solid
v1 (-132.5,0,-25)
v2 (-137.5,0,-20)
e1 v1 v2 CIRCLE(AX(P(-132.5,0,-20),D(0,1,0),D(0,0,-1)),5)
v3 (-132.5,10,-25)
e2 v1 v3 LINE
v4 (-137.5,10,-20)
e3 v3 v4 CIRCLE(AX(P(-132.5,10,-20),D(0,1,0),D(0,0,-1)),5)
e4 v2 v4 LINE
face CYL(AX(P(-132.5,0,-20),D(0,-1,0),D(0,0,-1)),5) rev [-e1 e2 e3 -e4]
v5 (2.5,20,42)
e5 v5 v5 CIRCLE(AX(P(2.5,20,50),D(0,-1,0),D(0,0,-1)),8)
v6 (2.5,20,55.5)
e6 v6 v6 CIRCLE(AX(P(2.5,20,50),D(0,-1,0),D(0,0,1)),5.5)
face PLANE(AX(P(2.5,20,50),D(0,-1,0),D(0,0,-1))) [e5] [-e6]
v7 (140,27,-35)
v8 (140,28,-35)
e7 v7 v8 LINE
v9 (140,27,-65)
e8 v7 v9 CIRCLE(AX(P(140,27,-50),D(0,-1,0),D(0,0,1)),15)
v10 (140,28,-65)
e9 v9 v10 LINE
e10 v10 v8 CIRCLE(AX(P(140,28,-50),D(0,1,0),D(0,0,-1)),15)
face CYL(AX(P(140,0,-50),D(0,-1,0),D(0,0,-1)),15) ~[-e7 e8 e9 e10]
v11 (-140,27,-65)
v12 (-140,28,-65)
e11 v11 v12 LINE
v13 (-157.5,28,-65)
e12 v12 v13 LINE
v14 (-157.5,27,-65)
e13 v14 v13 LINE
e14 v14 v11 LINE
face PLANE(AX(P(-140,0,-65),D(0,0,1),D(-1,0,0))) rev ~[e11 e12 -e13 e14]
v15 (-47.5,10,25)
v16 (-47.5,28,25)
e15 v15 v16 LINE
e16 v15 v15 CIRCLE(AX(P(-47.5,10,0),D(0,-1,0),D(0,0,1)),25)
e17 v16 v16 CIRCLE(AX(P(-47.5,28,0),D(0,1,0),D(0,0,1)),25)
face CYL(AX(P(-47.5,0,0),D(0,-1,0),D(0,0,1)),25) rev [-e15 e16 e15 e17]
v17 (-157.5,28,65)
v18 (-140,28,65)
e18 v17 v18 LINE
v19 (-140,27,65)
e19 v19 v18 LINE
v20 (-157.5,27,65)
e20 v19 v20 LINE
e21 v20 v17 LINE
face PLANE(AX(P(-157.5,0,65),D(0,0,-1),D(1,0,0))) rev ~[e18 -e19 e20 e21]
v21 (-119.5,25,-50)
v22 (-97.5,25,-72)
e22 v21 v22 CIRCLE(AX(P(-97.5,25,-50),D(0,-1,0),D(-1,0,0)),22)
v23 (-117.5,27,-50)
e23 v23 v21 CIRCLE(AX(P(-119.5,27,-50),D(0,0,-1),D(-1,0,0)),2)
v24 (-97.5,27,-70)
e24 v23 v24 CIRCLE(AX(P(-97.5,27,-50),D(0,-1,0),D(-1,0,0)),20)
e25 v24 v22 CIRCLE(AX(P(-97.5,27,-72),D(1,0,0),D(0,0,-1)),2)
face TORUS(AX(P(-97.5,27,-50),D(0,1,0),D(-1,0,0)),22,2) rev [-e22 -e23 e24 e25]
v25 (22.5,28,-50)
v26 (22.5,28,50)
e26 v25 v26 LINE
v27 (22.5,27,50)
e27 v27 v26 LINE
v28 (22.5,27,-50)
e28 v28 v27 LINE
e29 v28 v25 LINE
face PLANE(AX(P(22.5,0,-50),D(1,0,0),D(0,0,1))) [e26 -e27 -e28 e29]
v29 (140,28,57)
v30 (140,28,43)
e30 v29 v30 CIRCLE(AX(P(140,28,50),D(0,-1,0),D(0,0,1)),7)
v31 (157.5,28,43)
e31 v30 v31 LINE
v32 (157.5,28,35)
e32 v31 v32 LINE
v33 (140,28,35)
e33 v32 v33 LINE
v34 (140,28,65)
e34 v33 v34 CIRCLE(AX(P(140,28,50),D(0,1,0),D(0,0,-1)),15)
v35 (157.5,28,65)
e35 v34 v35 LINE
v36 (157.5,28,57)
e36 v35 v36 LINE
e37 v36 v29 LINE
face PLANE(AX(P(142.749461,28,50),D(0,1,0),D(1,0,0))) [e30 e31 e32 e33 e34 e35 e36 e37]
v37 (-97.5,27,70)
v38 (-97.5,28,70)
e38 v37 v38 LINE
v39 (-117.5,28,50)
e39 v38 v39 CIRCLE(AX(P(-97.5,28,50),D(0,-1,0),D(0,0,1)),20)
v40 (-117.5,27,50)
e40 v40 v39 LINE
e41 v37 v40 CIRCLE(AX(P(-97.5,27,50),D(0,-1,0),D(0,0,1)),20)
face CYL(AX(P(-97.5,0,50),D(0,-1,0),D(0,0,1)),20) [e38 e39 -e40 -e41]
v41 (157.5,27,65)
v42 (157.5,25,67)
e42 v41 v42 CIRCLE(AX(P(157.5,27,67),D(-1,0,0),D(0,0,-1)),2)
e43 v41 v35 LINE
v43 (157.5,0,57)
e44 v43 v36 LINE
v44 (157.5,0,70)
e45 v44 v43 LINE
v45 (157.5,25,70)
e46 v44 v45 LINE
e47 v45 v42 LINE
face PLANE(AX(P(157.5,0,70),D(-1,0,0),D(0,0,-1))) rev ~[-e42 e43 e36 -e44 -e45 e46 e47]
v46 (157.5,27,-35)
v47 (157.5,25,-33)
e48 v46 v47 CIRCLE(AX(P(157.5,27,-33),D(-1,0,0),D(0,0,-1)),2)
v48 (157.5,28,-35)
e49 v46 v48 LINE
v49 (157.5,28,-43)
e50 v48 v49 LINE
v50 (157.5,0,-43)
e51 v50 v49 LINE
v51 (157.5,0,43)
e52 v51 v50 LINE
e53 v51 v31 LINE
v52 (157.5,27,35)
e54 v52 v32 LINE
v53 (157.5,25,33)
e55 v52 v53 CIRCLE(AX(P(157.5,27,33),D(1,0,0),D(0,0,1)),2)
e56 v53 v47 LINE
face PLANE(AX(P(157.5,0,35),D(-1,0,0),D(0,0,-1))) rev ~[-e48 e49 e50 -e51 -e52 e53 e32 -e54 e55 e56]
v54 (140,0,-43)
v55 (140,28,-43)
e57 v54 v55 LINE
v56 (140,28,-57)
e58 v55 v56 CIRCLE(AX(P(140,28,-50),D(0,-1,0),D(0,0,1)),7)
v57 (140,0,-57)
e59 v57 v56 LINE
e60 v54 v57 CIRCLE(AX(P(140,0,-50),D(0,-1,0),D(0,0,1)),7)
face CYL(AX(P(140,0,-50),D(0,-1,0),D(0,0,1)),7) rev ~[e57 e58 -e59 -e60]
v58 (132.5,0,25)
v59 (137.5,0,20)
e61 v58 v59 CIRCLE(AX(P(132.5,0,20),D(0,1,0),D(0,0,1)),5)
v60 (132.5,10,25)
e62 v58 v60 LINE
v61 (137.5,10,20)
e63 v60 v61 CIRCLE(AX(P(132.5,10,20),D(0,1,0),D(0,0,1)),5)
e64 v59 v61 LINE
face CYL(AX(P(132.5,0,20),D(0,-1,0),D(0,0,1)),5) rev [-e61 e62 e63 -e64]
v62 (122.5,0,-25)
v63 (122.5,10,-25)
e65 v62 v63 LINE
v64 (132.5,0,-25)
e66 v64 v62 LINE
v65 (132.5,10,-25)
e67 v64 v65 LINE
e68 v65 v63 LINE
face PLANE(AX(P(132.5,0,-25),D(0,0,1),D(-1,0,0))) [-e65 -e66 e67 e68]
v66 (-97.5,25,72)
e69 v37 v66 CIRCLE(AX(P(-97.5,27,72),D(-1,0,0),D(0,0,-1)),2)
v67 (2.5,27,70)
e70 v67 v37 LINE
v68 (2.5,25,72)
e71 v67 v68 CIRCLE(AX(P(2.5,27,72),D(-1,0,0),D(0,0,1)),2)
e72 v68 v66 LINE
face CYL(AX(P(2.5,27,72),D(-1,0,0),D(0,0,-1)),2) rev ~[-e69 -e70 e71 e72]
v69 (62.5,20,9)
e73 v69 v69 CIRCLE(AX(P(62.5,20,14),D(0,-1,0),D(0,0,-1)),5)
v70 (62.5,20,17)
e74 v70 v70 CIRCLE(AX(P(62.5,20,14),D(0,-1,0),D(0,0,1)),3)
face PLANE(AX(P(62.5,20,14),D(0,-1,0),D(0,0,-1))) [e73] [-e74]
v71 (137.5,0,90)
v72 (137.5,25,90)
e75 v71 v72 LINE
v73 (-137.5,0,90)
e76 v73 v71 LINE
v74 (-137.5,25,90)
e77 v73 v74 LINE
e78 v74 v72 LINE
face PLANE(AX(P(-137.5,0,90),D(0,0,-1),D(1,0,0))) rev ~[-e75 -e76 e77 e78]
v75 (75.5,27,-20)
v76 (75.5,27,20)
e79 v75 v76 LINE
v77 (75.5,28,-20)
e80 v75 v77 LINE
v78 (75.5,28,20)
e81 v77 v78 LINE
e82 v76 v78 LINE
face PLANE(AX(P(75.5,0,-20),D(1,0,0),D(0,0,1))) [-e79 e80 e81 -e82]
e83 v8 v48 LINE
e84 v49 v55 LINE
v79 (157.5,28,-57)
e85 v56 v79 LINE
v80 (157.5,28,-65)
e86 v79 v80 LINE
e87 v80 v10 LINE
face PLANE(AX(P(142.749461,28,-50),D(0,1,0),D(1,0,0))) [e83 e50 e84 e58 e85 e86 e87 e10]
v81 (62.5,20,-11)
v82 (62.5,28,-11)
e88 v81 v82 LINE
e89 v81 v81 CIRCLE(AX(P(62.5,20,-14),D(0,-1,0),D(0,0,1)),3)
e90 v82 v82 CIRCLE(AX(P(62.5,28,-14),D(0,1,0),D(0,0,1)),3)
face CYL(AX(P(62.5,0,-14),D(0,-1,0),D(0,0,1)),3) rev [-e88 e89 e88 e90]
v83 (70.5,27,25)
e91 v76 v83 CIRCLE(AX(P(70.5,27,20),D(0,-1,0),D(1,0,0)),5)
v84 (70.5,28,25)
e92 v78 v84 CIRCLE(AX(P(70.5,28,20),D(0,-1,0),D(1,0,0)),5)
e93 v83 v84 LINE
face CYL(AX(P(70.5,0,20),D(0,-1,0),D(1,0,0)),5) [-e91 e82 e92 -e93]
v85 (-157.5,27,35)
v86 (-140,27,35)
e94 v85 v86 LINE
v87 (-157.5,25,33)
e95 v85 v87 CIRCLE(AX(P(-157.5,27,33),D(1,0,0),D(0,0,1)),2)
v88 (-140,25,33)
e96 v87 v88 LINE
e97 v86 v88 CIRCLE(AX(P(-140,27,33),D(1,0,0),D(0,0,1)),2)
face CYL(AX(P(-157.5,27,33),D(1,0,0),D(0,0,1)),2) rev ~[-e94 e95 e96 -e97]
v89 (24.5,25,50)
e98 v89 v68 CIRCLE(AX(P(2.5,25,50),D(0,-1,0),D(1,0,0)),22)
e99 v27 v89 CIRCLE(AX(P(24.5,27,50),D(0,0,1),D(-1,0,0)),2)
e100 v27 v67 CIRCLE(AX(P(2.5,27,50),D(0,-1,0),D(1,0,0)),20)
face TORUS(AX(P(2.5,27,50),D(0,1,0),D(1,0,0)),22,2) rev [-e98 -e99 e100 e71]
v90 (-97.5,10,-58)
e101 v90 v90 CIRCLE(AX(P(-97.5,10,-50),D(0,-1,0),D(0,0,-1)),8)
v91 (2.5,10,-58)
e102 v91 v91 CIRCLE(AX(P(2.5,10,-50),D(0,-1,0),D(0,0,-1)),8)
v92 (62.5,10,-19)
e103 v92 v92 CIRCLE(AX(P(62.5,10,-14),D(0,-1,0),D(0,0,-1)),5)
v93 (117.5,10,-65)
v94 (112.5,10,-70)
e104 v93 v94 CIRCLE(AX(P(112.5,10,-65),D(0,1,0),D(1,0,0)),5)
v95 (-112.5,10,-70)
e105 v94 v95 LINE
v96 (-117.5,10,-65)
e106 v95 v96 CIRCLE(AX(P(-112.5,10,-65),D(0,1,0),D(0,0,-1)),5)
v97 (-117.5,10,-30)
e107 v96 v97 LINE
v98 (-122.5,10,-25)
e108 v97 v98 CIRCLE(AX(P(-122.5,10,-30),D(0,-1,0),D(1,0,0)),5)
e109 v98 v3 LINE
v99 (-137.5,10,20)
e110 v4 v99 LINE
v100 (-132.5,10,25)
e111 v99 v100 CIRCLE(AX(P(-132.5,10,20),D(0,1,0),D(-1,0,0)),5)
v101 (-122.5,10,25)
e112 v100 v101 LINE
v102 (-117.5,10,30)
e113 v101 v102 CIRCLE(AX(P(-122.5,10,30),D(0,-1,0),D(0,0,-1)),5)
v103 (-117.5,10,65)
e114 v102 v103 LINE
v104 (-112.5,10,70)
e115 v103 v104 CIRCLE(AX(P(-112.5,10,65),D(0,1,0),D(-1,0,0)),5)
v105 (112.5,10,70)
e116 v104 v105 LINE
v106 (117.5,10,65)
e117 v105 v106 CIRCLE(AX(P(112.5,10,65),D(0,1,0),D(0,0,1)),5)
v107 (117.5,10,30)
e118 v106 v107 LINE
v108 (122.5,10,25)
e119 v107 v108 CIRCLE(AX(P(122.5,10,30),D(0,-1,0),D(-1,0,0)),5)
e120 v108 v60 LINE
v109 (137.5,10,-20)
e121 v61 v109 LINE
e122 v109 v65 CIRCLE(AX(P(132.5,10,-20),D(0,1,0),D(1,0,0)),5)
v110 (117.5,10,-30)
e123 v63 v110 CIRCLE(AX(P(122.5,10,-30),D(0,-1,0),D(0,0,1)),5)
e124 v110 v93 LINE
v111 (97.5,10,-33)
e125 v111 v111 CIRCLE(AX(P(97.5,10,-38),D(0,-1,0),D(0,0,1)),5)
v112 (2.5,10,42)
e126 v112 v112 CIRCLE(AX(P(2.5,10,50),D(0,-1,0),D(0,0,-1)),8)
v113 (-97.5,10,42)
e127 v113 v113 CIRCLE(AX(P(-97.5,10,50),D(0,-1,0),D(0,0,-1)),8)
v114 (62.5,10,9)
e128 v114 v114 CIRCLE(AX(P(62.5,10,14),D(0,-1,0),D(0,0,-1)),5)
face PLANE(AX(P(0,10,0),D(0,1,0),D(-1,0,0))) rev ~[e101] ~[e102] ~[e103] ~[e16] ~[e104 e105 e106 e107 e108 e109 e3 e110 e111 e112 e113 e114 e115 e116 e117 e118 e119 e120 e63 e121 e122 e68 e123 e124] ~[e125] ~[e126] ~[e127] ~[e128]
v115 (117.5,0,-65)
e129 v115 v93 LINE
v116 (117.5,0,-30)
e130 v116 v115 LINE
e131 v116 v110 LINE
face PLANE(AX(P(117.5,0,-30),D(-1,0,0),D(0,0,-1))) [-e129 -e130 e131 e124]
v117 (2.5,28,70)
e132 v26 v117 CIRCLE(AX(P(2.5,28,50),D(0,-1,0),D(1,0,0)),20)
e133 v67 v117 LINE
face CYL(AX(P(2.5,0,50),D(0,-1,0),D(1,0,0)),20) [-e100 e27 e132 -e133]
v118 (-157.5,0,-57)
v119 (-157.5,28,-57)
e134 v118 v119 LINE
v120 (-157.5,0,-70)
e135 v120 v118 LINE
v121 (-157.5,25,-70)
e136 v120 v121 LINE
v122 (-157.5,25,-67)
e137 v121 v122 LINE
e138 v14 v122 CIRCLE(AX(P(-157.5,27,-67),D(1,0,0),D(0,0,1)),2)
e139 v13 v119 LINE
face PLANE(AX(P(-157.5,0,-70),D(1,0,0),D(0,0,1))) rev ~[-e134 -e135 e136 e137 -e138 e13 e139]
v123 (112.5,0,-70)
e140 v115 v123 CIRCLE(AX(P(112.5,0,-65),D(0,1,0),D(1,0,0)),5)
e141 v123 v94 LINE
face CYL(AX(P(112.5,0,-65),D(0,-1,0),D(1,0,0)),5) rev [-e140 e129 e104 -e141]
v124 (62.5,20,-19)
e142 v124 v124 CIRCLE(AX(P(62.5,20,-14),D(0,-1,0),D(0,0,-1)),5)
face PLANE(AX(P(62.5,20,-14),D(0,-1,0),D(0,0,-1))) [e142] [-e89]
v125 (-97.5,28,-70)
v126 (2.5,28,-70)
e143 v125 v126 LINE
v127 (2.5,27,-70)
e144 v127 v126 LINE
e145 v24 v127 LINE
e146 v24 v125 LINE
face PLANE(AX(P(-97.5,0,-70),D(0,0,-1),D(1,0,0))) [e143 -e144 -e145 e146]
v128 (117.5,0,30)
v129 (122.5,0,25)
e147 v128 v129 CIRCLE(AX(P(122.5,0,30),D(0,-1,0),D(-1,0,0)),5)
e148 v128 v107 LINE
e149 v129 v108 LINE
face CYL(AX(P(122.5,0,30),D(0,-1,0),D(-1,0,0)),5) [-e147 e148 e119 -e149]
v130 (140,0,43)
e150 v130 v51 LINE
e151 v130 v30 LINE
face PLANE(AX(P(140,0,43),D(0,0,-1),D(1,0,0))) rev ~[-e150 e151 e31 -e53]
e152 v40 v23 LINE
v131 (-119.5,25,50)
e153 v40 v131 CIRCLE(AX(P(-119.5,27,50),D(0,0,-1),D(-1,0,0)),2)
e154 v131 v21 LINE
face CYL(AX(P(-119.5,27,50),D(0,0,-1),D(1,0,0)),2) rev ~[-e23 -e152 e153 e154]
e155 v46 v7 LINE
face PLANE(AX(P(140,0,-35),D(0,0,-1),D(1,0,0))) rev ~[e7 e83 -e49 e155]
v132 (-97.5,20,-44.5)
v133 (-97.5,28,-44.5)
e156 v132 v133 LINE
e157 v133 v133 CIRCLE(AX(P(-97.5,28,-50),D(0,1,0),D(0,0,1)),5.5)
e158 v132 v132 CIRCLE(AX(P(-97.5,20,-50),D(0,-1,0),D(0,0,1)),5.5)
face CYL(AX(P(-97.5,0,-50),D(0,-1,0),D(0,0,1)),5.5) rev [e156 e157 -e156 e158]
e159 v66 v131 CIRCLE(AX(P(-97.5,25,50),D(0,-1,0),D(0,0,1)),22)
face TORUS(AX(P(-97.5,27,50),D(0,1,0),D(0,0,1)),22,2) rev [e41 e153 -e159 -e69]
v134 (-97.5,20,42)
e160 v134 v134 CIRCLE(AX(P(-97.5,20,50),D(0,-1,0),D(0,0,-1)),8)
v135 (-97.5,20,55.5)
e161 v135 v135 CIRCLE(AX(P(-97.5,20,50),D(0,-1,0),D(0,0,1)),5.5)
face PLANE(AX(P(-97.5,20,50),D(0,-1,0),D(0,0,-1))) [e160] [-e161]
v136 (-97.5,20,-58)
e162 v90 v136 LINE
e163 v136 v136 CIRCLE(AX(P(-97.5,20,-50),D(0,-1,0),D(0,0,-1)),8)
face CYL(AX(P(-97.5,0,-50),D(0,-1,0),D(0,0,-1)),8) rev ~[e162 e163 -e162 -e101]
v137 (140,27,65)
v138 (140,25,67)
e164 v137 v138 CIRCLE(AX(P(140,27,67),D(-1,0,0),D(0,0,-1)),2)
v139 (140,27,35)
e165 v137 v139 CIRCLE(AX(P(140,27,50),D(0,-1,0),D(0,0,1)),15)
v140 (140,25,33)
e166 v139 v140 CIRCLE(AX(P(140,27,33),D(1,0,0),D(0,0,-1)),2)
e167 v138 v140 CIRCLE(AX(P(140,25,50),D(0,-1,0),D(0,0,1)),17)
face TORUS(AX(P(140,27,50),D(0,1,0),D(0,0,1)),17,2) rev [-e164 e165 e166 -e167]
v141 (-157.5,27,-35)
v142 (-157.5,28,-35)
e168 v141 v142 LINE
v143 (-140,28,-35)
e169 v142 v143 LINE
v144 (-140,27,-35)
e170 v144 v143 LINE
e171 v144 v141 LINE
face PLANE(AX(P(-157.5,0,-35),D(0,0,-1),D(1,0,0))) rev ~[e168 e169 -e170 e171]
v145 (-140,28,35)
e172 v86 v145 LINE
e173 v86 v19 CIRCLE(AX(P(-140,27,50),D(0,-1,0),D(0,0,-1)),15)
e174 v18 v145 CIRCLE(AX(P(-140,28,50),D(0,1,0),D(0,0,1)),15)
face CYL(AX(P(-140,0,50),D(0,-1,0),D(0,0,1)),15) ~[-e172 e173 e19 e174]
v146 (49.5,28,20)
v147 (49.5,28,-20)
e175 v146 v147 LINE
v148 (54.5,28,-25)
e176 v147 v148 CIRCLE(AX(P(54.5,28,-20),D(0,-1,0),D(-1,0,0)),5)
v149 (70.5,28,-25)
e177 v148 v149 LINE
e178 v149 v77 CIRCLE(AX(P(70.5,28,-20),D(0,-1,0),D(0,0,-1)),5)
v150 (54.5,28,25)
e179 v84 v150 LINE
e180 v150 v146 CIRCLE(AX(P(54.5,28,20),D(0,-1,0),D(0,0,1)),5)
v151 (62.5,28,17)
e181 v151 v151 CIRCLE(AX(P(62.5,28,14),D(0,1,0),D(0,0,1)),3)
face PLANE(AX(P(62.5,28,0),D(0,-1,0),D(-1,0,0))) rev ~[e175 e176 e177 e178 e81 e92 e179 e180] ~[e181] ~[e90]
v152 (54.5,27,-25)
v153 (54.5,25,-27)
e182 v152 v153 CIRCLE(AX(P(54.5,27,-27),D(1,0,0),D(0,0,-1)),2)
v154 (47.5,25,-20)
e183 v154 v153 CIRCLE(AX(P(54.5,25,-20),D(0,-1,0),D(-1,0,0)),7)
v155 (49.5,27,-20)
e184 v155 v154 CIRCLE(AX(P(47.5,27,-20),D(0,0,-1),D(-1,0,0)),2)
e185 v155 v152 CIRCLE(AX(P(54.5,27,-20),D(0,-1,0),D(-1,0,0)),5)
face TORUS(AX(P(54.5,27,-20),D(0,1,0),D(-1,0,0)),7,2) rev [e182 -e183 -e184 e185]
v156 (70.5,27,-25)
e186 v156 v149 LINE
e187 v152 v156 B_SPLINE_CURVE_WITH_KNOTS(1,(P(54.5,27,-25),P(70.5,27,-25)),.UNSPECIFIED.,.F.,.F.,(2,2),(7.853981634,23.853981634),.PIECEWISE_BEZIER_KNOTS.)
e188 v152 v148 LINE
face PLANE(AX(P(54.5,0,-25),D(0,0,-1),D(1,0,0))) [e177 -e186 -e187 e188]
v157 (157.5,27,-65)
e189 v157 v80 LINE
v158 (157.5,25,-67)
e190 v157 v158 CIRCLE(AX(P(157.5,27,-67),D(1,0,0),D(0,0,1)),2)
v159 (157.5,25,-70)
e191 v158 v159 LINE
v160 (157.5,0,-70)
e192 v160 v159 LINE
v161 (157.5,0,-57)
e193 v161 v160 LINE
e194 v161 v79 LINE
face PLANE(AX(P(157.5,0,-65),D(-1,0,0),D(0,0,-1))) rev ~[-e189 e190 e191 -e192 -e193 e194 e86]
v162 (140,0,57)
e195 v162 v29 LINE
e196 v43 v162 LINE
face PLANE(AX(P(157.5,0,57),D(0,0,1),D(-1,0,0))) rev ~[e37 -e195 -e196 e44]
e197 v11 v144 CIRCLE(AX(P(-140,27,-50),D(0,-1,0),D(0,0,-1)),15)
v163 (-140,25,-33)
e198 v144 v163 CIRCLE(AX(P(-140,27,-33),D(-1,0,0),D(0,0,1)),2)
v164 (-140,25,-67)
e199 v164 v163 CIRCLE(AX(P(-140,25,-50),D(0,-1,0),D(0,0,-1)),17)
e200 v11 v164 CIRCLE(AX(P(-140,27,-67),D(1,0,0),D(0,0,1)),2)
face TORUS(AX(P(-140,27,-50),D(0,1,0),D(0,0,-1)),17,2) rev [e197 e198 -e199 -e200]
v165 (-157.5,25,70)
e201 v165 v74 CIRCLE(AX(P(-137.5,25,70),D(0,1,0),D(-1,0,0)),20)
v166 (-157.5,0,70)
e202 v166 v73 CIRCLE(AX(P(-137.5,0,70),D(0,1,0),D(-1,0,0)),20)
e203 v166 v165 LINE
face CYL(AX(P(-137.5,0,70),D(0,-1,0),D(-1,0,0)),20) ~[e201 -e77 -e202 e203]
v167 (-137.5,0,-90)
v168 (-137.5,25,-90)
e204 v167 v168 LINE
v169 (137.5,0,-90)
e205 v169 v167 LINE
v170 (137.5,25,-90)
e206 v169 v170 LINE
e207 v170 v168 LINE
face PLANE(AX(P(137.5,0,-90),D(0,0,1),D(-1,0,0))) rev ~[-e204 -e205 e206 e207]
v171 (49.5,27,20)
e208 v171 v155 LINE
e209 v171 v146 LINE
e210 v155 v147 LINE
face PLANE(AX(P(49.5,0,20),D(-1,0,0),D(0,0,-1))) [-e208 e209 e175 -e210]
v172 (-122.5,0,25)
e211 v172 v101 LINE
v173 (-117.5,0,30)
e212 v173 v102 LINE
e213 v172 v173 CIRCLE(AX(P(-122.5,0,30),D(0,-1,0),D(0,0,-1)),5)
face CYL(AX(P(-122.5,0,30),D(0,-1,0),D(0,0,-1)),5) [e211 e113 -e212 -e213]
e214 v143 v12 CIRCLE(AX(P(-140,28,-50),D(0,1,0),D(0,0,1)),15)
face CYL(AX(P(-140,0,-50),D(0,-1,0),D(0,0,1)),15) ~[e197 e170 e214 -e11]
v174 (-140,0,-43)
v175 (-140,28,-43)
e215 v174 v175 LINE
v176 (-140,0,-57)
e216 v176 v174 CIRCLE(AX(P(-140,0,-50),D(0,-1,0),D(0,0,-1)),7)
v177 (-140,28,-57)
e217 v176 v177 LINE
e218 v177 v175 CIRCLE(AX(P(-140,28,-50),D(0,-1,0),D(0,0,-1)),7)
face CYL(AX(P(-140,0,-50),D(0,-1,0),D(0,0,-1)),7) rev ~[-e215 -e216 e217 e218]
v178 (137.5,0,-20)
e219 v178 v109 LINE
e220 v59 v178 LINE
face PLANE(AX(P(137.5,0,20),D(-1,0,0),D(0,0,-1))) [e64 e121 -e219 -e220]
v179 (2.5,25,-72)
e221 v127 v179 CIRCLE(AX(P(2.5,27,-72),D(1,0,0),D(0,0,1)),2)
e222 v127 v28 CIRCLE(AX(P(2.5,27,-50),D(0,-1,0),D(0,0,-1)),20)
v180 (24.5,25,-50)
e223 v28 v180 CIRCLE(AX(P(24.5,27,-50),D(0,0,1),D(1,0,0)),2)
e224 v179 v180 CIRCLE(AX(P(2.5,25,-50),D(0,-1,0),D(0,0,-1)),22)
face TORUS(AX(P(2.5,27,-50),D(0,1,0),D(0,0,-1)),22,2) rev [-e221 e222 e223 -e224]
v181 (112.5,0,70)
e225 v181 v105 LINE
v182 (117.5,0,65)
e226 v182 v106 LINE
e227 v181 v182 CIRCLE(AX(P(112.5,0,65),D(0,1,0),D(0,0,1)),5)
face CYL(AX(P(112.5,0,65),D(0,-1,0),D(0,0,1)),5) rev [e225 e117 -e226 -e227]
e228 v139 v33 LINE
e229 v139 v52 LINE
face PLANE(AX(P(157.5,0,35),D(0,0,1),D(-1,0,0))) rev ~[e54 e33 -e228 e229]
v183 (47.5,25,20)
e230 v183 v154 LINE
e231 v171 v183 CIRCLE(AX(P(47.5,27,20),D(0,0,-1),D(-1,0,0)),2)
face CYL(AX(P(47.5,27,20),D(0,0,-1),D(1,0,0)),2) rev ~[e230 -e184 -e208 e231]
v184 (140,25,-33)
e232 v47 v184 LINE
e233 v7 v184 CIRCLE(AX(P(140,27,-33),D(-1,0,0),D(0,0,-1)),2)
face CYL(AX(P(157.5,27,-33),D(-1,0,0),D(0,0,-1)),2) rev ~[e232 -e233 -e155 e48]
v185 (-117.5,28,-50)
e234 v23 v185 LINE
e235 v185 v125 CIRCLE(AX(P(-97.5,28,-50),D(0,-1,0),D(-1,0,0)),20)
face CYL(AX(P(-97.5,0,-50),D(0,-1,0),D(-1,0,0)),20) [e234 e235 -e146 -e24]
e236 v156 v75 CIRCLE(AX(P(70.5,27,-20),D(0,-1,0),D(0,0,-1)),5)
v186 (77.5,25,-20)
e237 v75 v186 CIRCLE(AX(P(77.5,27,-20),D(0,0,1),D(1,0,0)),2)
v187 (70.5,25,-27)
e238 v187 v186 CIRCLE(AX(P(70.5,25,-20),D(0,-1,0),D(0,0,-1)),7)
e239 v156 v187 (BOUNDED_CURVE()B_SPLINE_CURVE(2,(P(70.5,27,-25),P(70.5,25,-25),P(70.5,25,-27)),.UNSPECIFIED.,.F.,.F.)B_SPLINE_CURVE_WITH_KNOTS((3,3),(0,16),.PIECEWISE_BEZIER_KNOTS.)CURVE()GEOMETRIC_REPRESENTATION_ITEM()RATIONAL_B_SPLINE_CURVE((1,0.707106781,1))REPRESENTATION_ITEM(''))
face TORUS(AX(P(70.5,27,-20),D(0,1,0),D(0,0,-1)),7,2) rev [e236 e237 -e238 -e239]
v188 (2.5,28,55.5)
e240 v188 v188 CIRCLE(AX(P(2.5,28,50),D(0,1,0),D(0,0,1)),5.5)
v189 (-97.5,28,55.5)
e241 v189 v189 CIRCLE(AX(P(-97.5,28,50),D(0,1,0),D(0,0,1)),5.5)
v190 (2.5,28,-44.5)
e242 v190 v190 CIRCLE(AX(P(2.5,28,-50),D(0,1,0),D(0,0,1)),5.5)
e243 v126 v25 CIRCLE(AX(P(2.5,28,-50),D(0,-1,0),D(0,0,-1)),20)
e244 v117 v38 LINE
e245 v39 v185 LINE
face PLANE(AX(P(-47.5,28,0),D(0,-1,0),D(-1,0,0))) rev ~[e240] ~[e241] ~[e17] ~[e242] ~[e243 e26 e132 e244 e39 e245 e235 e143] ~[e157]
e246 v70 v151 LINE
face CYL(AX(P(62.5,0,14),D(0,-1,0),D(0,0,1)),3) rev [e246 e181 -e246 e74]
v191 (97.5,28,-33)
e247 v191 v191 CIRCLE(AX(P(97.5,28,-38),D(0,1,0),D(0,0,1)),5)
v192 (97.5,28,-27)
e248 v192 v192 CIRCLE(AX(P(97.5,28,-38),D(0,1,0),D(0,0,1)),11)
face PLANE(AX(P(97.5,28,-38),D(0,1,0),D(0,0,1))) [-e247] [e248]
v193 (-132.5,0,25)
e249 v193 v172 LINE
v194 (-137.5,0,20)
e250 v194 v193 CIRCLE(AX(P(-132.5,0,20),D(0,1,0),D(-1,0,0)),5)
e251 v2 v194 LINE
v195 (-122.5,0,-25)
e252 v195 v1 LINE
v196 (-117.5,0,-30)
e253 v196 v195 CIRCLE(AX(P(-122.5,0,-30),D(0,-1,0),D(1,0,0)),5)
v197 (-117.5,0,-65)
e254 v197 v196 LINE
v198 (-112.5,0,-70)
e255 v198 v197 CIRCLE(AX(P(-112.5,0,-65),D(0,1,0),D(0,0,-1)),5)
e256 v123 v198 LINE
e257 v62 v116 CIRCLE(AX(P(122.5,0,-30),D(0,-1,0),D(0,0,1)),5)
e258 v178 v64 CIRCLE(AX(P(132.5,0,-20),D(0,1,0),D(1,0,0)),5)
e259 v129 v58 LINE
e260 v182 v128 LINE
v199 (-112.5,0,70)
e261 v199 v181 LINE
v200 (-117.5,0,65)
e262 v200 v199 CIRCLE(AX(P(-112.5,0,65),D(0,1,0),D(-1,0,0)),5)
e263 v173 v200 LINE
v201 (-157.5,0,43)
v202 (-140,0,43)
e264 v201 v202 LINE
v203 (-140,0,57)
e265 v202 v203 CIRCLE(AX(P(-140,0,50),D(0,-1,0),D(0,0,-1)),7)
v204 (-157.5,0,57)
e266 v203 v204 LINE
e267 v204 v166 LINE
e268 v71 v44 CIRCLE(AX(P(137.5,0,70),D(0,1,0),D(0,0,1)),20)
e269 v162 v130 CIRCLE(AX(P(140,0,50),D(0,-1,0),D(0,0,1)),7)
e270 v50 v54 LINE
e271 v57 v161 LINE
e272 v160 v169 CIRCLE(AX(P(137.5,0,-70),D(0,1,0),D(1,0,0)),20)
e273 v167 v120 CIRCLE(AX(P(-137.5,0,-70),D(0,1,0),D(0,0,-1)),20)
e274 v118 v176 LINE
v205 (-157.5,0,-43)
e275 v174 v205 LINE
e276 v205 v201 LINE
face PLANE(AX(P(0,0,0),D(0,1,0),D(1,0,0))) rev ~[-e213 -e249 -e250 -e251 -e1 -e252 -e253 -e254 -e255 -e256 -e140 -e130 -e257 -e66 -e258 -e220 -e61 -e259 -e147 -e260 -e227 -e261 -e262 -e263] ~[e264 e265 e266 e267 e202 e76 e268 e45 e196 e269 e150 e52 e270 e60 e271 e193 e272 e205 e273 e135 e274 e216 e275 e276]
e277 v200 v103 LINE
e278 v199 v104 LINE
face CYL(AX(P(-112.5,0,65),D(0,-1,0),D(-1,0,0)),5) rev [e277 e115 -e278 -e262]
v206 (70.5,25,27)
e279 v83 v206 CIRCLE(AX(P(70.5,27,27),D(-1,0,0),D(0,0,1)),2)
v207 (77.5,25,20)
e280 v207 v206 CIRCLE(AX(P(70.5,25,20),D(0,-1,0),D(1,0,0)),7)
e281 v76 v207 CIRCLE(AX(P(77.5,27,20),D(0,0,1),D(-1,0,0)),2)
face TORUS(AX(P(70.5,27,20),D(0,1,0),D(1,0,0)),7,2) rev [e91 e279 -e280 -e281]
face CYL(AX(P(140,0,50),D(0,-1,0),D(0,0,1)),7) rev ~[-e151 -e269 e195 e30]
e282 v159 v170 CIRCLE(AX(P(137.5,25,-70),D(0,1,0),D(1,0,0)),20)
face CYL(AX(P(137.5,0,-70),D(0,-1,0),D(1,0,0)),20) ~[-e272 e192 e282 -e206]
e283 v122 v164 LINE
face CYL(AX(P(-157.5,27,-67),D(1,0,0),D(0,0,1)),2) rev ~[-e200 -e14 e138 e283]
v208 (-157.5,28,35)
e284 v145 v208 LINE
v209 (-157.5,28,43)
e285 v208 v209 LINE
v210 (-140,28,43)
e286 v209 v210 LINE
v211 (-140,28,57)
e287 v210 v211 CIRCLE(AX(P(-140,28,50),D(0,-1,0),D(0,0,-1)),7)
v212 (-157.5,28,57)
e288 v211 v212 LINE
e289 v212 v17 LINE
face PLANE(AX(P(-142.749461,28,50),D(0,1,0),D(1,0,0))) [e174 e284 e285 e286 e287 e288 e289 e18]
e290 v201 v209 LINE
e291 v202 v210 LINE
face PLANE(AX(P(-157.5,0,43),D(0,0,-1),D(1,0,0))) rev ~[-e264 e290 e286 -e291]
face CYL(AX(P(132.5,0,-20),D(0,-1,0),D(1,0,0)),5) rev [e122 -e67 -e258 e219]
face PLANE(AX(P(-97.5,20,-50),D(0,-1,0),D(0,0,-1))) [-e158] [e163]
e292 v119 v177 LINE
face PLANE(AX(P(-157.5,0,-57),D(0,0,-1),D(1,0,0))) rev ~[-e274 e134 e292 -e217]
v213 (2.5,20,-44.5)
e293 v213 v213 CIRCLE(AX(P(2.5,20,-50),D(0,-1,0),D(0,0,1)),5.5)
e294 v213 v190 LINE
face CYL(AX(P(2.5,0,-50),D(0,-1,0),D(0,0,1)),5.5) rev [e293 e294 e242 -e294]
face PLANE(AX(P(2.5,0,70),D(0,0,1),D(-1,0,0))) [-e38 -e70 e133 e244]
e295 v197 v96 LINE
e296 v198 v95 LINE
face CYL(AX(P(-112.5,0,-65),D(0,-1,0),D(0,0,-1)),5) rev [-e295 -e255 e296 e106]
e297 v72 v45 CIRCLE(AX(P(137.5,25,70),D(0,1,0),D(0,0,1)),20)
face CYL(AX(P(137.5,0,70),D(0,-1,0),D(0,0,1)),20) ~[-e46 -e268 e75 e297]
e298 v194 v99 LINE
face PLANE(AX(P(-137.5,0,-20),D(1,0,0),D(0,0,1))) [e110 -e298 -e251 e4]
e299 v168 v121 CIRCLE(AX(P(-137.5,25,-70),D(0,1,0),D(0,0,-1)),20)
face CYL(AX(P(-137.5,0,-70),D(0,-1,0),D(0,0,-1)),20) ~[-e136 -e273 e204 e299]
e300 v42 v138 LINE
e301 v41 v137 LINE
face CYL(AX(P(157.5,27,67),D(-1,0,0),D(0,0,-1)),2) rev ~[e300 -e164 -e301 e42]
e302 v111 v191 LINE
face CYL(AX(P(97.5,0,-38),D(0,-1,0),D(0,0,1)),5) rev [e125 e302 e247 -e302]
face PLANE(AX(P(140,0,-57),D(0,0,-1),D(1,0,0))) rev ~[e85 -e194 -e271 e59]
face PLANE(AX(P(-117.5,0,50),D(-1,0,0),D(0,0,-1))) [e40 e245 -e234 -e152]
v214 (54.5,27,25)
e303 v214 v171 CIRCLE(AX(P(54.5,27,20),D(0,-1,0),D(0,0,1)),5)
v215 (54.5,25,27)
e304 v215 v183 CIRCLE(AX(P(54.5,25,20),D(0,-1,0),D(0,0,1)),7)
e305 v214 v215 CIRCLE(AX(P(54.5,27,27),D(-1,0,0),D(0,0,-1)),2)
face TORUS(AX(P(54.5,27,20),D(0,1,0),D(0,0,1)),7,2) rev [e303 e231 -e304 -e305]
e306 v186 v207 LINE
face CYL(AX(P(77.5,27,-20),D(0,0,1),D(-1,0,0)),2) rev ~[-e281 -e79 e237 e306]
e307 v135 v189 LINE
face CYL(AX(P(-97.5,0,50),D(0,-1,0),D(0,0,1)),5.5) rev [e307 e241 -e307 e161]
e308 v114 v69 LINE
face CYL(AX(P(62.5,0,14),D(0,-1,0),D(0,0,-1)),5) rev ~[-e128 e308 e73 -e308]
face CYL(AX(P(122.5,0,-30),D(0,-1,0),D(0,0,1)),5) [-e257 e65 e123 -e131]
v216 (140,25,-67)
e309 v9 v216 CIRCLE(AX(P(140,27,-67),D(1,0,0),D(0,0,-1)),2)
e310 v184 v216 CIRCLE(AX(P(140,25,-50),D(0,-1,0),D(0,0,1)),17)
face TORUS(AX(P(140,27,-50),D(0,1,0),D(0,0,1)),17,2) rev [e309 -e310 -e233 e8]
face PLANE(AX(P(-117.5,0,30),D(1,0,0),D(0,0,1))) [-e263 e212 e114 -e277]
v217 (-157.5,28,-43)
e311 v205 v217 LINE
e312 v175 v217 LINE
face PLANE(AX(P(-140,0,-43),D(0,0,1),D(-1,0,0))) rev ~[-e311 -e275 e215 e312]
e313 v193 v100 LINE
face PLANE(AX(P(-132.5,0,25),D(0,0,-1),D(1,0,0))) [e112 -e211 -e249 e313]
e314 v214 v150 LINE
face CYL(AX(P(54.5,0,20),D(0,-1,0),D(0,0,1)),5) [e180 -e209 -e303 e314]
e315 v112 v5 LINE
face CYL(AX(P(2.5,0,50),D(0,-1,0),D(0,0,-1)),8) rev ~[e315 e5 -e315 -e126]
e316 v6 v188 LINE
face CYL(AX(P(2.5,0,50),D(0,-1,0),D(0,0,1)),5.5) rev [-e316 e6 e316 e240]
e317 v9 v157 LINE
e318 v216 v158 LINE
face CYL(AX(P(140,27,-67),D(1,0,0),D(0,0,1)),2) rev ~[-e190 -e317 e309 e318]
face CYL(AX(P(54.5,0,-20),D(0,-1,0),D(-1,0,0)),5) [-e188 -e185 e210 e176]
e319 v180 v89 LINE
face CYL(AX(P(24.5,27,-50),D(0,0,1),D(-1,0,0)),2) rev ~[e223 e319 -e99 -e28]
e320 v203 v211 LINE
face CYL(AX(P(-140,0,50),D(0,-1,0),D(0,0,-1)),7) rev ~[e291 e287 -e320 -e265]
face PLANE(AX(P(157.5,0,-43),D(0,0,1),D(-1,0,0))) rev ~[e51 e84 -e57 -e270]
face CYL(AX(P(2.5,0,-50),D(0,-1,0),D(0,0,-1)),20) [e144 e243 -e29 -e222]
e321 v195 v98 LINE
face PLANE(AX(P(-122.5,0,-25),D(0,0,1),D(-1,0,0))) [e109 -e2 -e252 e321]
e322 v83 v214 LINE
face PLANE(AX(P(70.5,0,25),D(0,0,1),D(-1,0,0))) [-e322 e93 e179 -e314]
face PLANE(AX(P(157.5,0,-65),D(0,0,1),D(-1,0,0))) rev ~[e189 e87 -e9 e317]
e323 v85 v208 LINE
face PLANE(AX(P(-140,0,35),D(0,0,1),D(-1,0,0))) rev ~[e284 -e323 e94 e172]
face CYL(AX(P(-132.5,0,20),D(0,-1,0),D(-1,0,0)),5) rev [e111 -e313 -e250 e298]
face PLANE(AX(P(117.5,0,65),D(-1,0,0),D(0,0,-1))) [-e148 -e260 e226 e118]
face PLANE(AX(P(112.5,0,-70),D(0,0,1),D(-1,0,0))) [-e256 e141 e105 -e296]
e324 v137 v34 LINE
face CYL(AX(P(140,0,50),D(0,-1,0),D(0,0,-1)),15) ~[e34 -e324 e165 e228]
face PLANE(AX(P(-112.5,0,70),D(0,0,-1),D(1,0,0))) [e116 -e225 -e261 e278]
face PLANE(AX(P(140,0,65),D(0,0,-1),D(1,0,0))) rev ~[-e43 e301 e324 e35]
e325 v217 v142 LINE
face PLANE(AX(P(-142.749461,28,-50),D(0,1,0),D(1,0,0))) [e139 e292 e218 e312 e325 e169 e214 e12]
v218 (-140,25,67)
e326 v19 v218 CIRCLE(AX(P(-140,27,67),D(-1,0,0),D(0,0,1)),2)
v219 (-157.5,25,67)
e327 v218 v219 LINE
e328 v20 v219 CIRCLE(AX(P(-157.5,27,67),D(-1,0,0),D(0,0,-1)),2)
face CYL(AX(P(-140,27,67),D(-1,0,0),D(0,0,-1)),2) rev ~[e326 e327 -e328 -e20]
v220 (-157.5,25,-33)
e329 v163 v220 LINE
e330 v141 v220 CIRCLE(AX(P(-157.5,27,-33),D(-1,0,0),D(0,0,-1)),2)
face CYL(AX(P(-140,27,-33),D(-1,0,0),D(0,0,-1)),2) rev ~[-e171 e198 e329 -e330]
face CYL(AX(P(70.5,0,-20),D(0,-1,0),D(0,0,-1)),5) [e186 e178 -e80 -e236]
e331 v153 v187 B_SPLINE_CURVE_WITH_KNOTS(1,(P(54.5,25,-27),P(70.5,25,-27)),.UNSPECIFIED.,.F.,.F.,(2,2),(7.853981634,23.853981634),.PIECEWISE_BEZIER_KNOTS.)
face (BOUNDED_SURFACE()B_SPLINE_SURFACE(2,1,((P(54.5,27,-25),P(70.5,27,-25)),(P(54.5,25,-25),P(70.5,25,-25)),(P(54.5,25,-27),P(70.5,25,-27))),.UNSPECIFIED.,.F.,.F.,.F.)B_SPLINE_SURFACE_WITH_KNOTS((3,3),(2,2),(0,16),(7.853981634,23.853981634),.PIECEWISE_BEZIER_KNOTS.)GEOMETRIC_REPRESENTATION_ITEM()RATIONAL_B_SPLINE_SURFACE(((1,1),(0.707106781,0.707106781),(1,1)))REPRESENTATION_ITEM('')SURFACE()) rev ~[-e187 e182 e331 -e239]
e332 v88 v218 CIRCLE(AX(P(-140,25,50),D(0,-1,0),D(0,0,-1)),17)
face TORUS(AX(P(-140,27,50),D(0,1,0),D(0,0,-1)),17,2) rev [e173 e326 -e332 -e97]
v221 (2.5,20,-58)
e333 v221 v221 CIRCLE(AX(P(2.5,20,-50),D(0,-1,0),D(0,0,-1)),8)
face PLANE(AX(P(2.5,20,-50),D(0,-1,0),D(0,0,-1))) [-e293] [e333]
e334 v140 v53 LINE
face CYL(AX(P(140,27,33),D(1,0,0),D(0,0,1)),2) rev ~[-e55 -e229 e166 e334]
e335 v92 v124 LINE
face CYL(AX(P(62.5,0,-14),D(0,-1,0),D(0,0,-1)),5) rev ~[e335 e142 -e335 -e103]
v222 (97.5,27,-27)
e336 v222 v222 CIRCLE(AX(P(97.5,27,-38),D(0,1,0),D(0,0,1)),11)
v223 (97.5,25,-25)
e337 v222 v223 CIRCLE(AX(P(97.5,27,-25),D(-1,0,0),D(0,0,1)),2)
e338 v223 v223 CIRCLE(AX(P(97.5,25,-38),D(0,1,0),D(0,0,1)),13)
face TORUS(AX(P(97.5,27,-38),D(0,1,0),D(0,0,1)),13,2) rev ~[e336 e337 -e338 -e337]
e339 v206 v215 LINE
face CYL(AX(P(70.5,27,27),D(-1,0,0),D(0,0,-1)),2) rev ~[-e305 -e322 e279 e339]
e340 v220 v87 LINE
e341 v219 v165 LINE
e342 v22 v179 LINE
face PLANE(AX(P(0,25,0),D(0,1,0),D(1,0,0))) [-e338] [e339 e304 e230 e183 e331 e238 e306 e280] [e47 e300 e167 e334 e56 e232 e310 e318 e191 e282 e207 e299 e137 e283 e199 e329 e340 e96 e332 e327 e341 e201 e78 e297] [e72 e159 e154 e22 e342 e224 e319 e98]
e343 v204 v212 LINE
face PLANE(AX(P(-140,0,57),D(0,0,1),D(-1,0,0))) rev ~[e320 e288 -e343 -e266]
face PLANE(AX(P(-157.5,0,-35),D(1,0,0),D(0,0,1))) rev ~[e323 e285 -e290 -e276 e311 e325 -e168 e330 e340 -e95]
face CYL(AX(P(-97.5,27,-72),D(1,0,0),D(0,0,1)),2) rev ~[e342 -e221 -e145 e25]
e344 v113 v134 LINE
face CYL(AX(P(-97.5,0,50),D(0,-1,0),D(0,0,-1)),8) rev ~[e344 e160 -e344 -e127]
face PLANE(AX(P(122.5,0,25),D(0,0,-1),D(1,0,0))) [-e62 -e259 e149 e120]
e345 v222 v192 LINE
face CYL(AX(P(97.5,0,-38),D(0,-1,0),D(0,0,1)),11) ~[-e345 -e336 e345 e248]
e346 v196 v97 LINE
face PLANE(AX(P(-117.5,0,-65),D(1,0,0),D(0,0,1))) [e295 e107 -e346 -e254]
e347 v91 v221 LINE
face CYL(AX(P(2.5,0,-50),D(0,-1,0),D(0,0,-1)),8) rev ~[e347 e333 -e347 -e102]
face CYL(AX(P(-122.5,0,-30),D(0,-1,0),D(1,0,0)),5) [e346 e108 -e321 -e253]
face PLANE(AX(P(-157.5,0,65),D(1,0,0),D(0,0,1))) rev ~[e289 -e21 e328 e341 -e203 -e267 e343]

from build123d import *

# Parameters (mm, degrees)
SKETCH1_R           = 11
BOSS_EXTRUDE1_DEPTH = 25
SKETCH1_3_R         = 5.5
SKETCH1_3_R_2       = 25
SKETCH1_3_R_3       = 3
SKETCH1_3_R_4       = 11
SKETCH1_3_R_5       = 5
BOSS_EXTRUDE2_DEPTH = 28
SKETCH2_R           = 8
SKETCH2_R_2         = 5
CUT_EXTRUDE1_DEPTH  = 10
SKETCH2_2_R         = 8
SKETCH2_2_R_2       = 5
SKETCH2_2_R_3       = 3
CUT_EXTRUDE2_DEPTH  = 20
FILLET1_R           = 2


with BuildPart() as part:
    # Sketch1 → Boss-Extrude1 (new body)
    with BuildSketch(Plane(origin=(0, 0, 0), x_dir=(1, 0, 0), z_dir=(0, 1, 0))):
        with BuildLine():
            Line((-157.5, 70), (-157.5, 65))
            Line((-157.5, 65), (-140, 65))
            ThreePointArc((-140, 65), (-125, 50), (-140, 35))
            Line((-140, 35), (-157.5, 35))
            Line((-157.5, 35), (-157.5, -35))
            Line((-157.5, -35), (-140, -35))
            ThreePointArc((-140, -35), (-125, -50), (-140, -65))
            Line((-140, -65), (-157.5, -65))
            Line((-157.5, -65), (-157.5, -70))
            ThreePointArc((-157.5, -70), (-151.642135624, -84.142135624), (-137.5, -90))
            Line((-137.5, -90), (137.5, -90))
            ThreePointArc((137.5, -90), (151.642135624, -84.142135624), (157.5, -70))
            Line((157.5, -70), (157.5, -65))
            Line((157.5, -65), (140, -65))
            ThreePointArc((140, -65), (125, -50), (140, -35))
            Line((140, -35), (157.5, -35))
            Line((157.5, -35), (157.5, 35))
            Line((157.5, 35), (140, 35))
            ThreePointArc((140, 35), (125, 50), (140, 65))
            Line((140, 65), (157.5, 65))
            Line((157.5, 65), (157.5, 70))
            ThreePointArc((157.5, 70), (151.642135624, 84.142135624), (137.5, 90))
            Line((137.5, 90), (-137.5, 90))
            ThreePointArc((-137.5, 90), (-151.642135624, 84.142135624), (-157.5, 70))
        make_face()
        with BuildLine():
            ThreePointArc((-117.5, 50), (-111.642135624, 64.142135624), (-97.5, 70))
            Line((-97.5, 70), (2.5, 70))
            ThreePointArc((2.5, 70), (16.642135624, 64.142135624), (22.5, 50))
            Line((22.5, 50), (22.5, -50))
            ThreePointArc((22.5, -50), (16.642135624, -64.142135624), (2.5, -70))
            Line((2.5, -70), (-97.5, -70))
            ThreePointArc((-97.5, -70), (-111.642135624, -64.142135624), (-117.5, -50))
            Line((-117.5, -50), (-117.5, 50))
        make_face(mode=Mode.SUBTRACT)
        with BuildLine():
            ThreePointArc((49.5, 20), (50.964466094, 23.535533906), (54.5, 25))
            Line((54.5, 25), (70.5, 25))
            ThreePointArc((70.5, 25), (74.035533906, 23.535533906), (75.5, 20))
            Line((75.5, 20), (75.5, -20))
            ThreePointArc((75.5, -20), (74.035533906, -23.535533906), (70.5, -25))
            Line((70.5, -25), (54.5, -25))
            ThreePointArc((54.5, -25), (50.964466094, -23.535533906), (49.5, -20))
            Line((49.5, -20), (49.5, 20))
        make_face(mode=Mode.SUBTRACT)
        with Locations((97.5, 38)):
            Circle(SKETCH1_R, mode=Mode.SUBTRACT)
    extrude(amount=BOSS_EXTRUDE1_DEPTH)

    # Sketch1<3> → Boss-Extrude2 (add)
    # profile 1 of 7: a face of its own
    with BuildSketch(Plane(origin=(0, 0, 0), x_dir=(1, 0, 0), z_dir=(0, 1, 0))):
        with BuildLine():
            Line((-140, 65), (-157.5, 65))
            Line((-157.5, 65), (-157.5, 57))
            Line((-157.5, 57), (-140, 57))
            ThreePointArc((-140, 57), (-133, 50), (-140, 43))
            Line((-140, 43), (-157.5, 43))
            Line((-157.5, 43), (-157.5, 35))
            Line((-157.5, 35), (-140, 35))
            ThreePointArc((-140, 35), (-125, 50), (-140, 65))
        make_face()
    # profile 2 of 7: a face of its own
    with BuildSketch(Plane(origin=(0, 0, 0), x_dir=(1, 0, 0), z_dir=(0, 1, 0))):
        with BuildLine():
            Line((-140, -35), (-157.5, -35))
            Line((-157.5, -35), (-157.5, -43))
            Line((-157.5, -43), (-140, -43))
            ThreePointArc((-140, -43), (-133, -50), (-140, -57))
            Line((-140, -57), (-157.5, -57))
            Line((-157.5, -57), (-157.5, -65))
            Line((-157.5, -65), (-140, -65))
            ThreePointArc((-140, -65), (-125, -50), (-140, -35))
        make_face()
    # profile 3 of 7: a face of its own
    with BuildSketch(Plane(origin=(0, 0, 0), x_dir=(1, 0, 0), z_dir=(0, 1, 0))):
        with BuildLine():
            Line((157.5, 57), (157.5, 65))
            Line((157.5, 65), (140, 65))
            ThreePointArc((140, 65), (125, 50), (140, 35))
            Line((140, 35), (157.5, 35))
            Line((157.5, 35), (157.5, 43))
            Line((157.5, 43), (140, 43))
            ThreePointArc((140, 43), (133, 50), (140, 57))
            Line((140, 57), (157.5, 57))
        make_face()
    # profile 4 of 7: a face of its own
    with BuildSketch(Plane(origin=(0, 0, 0), x_dir=(1, 0, 0), z_dir=(0, 1, 0))):
        with BuildLine():
            Line((157.5, -43), (157.5, -35))
            Line((157.5, -35), (140, -35))
            ThreePointArc((140, -35), (125, -50), (140, -65))
            Line((140, -65), (157.5, -65))
            Line((157.5, -65), (157.5, -57))
            Line((157.5, -57), (140, -57))
            ThreePointArc((140, -57), (133, -50), (140, -43))
            Line((140, -43), (157.5, -43))
        make_face()
    # profile 5 of 7: a face of its own
    with BuildSketch(Plane(origin=(0, 0, 0), x_dir=(1, 0, 0), z_dir=(0, 1, 0))):
        with BuildLine():
            Line((2.5, 70), (-97.5, 70))
            ThreePointArc((-97.5, 70), (-111.642135624, 64.142135624), (-117.5, 50))
            Line((-117.5, 50), (-117.5, -50))
            ThreePointArc((-117.5, -50), (-111.642135624, -64.142135624), (-97.5, -70))
            Line((-97.5, -70), (2.5, -70))
            ThreePointArc((2.5, -70), (16.642135624, -64.142135624), (22.5, -50))
            Line((22.5, -50), (22.5, 50))
            ThreePointArc((22.5, 50), (16.642135624, 64.142135624), (2.5, 70))
        make_face()
        with Locations((-97.5, -50)):
            Circle(SKETCH1_3_R, mode=Mode.SUBTRACT)
        with Locations((2.5, -50)):
            Circle(SKETCH1_3_R, mode=Mode.SUBTRACT)
        with Locations((-47.5, 0)):
            Circle(SKETCH1_3_R_2, mode=Mode.SUBTRACT)
        with Locations((-97.5, 50)):
            Circle(SKETCH1_3_R, mode=Mode.SUBTRACT)
        with Locations((2.5, 50)):
            Circle(SKETCH1_3_R, mode=Mode.SUBTRACT)
    # profile 6 of 7: a face of its own
    with BuildSketch(Plane(origin=(0, 0, 0), x_dir=(1, 0, 0), z_dir=(0, 1, 0))):
        with BuildLine():
            Line((70.5, 25), (54.5, 25))
            ThreePointArc((54.5, 25), (50.964466094, 23.535533906), (49.5, 20))
            Line((49.5, 20), (49.5, -20))
            ThreePointArc((49.5, -20), (50.964466094, -23.535533906), (54.5, -25))
            Line((54.5, -25), (70.5, -25))
            ThreePointArc((70.5, -25), (74.035533906, -23.535533906), (75.5, -20))
            Line((75.5, -20), (75.5, 20))
            ThreePointArc((75.5, 20), (74.035533906, 23.535533906), (70.5, 25))
        make_face()
        with Locations((62.5, -14)):
            Circle(SKETCH1_3_R_3, mode=Mode.SUBTRACT)
        with Locations((62.5, 14)):
            Circle(SKETCH1_3_R_3, mode=Mode.SUBTRACT)
    # profile 7 of 7: a face of its own
    with BuildSketch(Plane(origin=(0, 0, 0), x_dir=(1, 0, 0), z_dir=(0, 1, 0))):
        with Locations((97.5, 38)):
            Circle(SKETCH1_3_R_4)
        with Locations((97.5, 38)):
            Circle(SKETCH1_3_R_5, mode=Mode.SUBTRACT)
    extrude(amount=BOSS_EXTRUDE2_DEPTH)

    # Sketch2 → Cut-Extrude1 (cut)
    with BuildSketch(Plane.XZ):
        with BuildLine():
            Line((-112.5, 70), (112.5, 70))
            ThreePointArc((112.5, 70), (116.035533906, 68.535533906), (117.5, 65))
            Line((117.5, 65), (117.5, 30))
            ThreePointArc((117.5, 30), (118.964466094, 26.464466094), (122.5, 25))
            Line((122.5, 25), (132.5, 25))
            ThreePointArc((132.5, 25), (136.035533906, 23.535533906), (137.5, 20))
            Line((137.5, 20), (137.5, -20))
            ThreePointArc((137.5, -20), (136.035533906, -23.535533906), (132.5, -25))
            Line((132.5, -25), (122.5, -25))
            ThreePointArc((122.5, -25), (118.964466094, -26.464466094), (117.5, -30))
            Line((117.5, -30), (117.5, -65))
            ThreePointArc((117.5, -65), (116.035533906, -68.535533906), (112.5, -70))
            Line((112.5, -70), (-112.5, -70))
            ThreePointArc((-112.5, -70), (-116.035533906, -68.535533906), (-117.5, -65))
            Line((-117.5, -65), (-117.5, -30))
            ThreePointArc((-117.5, -30), (-118.964466094, -26.464466094), (-122.5, -25))
            Line((-122.5, -25), (-132.5, -25))
            ThreePointArc((-132.5, -25), (-136.035533906, -23.535533906), (-137.5, -20))
            Line((-137.5, -20), (-137.5, 20))
            ThreePointArc((-137.5, 20), (-136.035533906, 23.535533906), (-132.5, 25))
            Line((-132.5, 25), (-122.5, 25))
            ThreePointArc((-122.5, 25), (-118.964466094, 26.464466094), (-117.5, 30))
            Line((-117.5, 30), (-117.5, 65))
            ThreePointArc((-117.5, 65), (-116.035533906, 68.535533906), (-112.5, 70))
        make_face()
        with Locations((-97.5, 50)):
            Circle(SKETCH2_R, mode=Mode.SUBTRACT)
        with Locations((2.5, 50)):
            Circle(SKETCH2_R, mode=Mode.SUBTRACT)
        with Locations((2.5, -50)):
            Circle(SKETCH2_R, mode=Mode.SUBTRACT)
        with Locations((-97.5, -50)):
            Circle(SKETCH2_R, mode=Mode.SUBTRACT)
        with Locations((62.5, -14)):
            Circle(SKETCH2_R_2, mode=Mode.SUBTRACT)
        with Locations((62.5, 14)):
            Circle(SKETCH2_R_2, mode=Mode.SUBTRACT)
    extrude(amount=-CUT_EXTRUDE1_DEPTH, mode=Mode.SUBTRACT)

    # Sketch2<2> → Cut-Extrude2 (cut)
    # profile 1 of 6: a face of its own
    with BuildSketch(Plane.XZ):
        with Locations((-97.5, 50)):
            Circle(SKETCH2_2_R)
    # profile 2 of 6: a face of its own
    with BuildSketch(Plane.XZ):
        with Locations((2.5, 50)):
            Circle(SKETCH2_2_R)
    # profile 3 of 6: a face of its own
    with BuildSketch(Plane.XZ):
        with Locations((2.5, -50)):
            Circle(SKETCH2_2_R)
    # profile 4 of 6: a face of its own
    with BuildSketch(Plane.XZ):
        with Locations((-97.5, -50)):
            Circle(SKETCH2_2_R)
    # profile 5 of 6: a face of its own
    with BuildSketch(Plane.XZ):
        with Locations((62.5, -14)):
            Circle(SKETCH2_2_R_2)
        with Locations((62.5, -14)):
            Circle(SKETCH2_2_R_3, mode=Mode.SUBTRACT)
    # profile 6 of 6: a face of its own
    with BuildSketch(Plane.XZ):
        with Locations((62.5, 14)):
            Circle(SKETCH2_2_R_2)
        with Locations((62.5, 14)):
            Circle(SKETCH2_2_R_3, mode=Mode.SUBTRACT)
    extrude(amount=-CUT_EXTRUDE2_DEPTH, mode=Mode.SUBTRACT)

    # Fillet1
    fillet1_edges = [part.edges().sort_by_distance(p)[0] for p in [
        (148.75, 25, -65),
        (125, 25, -50),
        (148.75, 25, 35),
        (125, 25, 50),
        (62.5, 25, 25),
        (50.964466094, 25, 23.535533906),
        (49.5, 25, 0),
        (50.964466094, 25, -23.535533906),
        (62.5, 25, -25),
        (74.035533906, 25, -23.535533906),
        (75.5, 25, 0),
        (-111.642135624, 25, 64.142135624),
        (-117.5, 25, 0),
        (-111.642135624, 25, -64.142135624),
        (-47.5, 25, -70),
        (16.642135624, 25, -64.142135624),
        (22.5, 25, 0),
        (16.642135624, 25, 64.142135624),
        (-148.75, 25, -65),
        (-148.75, 25, -35),
        (-148.75, 25, 65),
        (-148.75, 25, 35),
        (148.75, 25, -35),
        (148.75, 25, 65),
        (86.5, 25, -38),
        (74.035533906, 25, 23.535533906),
        (-47.5, 25, 70),
        (-125, 25, -50),
        (-125, 25, 50),
    ]]
    fillet(fillet1_edges, radius=FILLET1_R)


solid = part.part
